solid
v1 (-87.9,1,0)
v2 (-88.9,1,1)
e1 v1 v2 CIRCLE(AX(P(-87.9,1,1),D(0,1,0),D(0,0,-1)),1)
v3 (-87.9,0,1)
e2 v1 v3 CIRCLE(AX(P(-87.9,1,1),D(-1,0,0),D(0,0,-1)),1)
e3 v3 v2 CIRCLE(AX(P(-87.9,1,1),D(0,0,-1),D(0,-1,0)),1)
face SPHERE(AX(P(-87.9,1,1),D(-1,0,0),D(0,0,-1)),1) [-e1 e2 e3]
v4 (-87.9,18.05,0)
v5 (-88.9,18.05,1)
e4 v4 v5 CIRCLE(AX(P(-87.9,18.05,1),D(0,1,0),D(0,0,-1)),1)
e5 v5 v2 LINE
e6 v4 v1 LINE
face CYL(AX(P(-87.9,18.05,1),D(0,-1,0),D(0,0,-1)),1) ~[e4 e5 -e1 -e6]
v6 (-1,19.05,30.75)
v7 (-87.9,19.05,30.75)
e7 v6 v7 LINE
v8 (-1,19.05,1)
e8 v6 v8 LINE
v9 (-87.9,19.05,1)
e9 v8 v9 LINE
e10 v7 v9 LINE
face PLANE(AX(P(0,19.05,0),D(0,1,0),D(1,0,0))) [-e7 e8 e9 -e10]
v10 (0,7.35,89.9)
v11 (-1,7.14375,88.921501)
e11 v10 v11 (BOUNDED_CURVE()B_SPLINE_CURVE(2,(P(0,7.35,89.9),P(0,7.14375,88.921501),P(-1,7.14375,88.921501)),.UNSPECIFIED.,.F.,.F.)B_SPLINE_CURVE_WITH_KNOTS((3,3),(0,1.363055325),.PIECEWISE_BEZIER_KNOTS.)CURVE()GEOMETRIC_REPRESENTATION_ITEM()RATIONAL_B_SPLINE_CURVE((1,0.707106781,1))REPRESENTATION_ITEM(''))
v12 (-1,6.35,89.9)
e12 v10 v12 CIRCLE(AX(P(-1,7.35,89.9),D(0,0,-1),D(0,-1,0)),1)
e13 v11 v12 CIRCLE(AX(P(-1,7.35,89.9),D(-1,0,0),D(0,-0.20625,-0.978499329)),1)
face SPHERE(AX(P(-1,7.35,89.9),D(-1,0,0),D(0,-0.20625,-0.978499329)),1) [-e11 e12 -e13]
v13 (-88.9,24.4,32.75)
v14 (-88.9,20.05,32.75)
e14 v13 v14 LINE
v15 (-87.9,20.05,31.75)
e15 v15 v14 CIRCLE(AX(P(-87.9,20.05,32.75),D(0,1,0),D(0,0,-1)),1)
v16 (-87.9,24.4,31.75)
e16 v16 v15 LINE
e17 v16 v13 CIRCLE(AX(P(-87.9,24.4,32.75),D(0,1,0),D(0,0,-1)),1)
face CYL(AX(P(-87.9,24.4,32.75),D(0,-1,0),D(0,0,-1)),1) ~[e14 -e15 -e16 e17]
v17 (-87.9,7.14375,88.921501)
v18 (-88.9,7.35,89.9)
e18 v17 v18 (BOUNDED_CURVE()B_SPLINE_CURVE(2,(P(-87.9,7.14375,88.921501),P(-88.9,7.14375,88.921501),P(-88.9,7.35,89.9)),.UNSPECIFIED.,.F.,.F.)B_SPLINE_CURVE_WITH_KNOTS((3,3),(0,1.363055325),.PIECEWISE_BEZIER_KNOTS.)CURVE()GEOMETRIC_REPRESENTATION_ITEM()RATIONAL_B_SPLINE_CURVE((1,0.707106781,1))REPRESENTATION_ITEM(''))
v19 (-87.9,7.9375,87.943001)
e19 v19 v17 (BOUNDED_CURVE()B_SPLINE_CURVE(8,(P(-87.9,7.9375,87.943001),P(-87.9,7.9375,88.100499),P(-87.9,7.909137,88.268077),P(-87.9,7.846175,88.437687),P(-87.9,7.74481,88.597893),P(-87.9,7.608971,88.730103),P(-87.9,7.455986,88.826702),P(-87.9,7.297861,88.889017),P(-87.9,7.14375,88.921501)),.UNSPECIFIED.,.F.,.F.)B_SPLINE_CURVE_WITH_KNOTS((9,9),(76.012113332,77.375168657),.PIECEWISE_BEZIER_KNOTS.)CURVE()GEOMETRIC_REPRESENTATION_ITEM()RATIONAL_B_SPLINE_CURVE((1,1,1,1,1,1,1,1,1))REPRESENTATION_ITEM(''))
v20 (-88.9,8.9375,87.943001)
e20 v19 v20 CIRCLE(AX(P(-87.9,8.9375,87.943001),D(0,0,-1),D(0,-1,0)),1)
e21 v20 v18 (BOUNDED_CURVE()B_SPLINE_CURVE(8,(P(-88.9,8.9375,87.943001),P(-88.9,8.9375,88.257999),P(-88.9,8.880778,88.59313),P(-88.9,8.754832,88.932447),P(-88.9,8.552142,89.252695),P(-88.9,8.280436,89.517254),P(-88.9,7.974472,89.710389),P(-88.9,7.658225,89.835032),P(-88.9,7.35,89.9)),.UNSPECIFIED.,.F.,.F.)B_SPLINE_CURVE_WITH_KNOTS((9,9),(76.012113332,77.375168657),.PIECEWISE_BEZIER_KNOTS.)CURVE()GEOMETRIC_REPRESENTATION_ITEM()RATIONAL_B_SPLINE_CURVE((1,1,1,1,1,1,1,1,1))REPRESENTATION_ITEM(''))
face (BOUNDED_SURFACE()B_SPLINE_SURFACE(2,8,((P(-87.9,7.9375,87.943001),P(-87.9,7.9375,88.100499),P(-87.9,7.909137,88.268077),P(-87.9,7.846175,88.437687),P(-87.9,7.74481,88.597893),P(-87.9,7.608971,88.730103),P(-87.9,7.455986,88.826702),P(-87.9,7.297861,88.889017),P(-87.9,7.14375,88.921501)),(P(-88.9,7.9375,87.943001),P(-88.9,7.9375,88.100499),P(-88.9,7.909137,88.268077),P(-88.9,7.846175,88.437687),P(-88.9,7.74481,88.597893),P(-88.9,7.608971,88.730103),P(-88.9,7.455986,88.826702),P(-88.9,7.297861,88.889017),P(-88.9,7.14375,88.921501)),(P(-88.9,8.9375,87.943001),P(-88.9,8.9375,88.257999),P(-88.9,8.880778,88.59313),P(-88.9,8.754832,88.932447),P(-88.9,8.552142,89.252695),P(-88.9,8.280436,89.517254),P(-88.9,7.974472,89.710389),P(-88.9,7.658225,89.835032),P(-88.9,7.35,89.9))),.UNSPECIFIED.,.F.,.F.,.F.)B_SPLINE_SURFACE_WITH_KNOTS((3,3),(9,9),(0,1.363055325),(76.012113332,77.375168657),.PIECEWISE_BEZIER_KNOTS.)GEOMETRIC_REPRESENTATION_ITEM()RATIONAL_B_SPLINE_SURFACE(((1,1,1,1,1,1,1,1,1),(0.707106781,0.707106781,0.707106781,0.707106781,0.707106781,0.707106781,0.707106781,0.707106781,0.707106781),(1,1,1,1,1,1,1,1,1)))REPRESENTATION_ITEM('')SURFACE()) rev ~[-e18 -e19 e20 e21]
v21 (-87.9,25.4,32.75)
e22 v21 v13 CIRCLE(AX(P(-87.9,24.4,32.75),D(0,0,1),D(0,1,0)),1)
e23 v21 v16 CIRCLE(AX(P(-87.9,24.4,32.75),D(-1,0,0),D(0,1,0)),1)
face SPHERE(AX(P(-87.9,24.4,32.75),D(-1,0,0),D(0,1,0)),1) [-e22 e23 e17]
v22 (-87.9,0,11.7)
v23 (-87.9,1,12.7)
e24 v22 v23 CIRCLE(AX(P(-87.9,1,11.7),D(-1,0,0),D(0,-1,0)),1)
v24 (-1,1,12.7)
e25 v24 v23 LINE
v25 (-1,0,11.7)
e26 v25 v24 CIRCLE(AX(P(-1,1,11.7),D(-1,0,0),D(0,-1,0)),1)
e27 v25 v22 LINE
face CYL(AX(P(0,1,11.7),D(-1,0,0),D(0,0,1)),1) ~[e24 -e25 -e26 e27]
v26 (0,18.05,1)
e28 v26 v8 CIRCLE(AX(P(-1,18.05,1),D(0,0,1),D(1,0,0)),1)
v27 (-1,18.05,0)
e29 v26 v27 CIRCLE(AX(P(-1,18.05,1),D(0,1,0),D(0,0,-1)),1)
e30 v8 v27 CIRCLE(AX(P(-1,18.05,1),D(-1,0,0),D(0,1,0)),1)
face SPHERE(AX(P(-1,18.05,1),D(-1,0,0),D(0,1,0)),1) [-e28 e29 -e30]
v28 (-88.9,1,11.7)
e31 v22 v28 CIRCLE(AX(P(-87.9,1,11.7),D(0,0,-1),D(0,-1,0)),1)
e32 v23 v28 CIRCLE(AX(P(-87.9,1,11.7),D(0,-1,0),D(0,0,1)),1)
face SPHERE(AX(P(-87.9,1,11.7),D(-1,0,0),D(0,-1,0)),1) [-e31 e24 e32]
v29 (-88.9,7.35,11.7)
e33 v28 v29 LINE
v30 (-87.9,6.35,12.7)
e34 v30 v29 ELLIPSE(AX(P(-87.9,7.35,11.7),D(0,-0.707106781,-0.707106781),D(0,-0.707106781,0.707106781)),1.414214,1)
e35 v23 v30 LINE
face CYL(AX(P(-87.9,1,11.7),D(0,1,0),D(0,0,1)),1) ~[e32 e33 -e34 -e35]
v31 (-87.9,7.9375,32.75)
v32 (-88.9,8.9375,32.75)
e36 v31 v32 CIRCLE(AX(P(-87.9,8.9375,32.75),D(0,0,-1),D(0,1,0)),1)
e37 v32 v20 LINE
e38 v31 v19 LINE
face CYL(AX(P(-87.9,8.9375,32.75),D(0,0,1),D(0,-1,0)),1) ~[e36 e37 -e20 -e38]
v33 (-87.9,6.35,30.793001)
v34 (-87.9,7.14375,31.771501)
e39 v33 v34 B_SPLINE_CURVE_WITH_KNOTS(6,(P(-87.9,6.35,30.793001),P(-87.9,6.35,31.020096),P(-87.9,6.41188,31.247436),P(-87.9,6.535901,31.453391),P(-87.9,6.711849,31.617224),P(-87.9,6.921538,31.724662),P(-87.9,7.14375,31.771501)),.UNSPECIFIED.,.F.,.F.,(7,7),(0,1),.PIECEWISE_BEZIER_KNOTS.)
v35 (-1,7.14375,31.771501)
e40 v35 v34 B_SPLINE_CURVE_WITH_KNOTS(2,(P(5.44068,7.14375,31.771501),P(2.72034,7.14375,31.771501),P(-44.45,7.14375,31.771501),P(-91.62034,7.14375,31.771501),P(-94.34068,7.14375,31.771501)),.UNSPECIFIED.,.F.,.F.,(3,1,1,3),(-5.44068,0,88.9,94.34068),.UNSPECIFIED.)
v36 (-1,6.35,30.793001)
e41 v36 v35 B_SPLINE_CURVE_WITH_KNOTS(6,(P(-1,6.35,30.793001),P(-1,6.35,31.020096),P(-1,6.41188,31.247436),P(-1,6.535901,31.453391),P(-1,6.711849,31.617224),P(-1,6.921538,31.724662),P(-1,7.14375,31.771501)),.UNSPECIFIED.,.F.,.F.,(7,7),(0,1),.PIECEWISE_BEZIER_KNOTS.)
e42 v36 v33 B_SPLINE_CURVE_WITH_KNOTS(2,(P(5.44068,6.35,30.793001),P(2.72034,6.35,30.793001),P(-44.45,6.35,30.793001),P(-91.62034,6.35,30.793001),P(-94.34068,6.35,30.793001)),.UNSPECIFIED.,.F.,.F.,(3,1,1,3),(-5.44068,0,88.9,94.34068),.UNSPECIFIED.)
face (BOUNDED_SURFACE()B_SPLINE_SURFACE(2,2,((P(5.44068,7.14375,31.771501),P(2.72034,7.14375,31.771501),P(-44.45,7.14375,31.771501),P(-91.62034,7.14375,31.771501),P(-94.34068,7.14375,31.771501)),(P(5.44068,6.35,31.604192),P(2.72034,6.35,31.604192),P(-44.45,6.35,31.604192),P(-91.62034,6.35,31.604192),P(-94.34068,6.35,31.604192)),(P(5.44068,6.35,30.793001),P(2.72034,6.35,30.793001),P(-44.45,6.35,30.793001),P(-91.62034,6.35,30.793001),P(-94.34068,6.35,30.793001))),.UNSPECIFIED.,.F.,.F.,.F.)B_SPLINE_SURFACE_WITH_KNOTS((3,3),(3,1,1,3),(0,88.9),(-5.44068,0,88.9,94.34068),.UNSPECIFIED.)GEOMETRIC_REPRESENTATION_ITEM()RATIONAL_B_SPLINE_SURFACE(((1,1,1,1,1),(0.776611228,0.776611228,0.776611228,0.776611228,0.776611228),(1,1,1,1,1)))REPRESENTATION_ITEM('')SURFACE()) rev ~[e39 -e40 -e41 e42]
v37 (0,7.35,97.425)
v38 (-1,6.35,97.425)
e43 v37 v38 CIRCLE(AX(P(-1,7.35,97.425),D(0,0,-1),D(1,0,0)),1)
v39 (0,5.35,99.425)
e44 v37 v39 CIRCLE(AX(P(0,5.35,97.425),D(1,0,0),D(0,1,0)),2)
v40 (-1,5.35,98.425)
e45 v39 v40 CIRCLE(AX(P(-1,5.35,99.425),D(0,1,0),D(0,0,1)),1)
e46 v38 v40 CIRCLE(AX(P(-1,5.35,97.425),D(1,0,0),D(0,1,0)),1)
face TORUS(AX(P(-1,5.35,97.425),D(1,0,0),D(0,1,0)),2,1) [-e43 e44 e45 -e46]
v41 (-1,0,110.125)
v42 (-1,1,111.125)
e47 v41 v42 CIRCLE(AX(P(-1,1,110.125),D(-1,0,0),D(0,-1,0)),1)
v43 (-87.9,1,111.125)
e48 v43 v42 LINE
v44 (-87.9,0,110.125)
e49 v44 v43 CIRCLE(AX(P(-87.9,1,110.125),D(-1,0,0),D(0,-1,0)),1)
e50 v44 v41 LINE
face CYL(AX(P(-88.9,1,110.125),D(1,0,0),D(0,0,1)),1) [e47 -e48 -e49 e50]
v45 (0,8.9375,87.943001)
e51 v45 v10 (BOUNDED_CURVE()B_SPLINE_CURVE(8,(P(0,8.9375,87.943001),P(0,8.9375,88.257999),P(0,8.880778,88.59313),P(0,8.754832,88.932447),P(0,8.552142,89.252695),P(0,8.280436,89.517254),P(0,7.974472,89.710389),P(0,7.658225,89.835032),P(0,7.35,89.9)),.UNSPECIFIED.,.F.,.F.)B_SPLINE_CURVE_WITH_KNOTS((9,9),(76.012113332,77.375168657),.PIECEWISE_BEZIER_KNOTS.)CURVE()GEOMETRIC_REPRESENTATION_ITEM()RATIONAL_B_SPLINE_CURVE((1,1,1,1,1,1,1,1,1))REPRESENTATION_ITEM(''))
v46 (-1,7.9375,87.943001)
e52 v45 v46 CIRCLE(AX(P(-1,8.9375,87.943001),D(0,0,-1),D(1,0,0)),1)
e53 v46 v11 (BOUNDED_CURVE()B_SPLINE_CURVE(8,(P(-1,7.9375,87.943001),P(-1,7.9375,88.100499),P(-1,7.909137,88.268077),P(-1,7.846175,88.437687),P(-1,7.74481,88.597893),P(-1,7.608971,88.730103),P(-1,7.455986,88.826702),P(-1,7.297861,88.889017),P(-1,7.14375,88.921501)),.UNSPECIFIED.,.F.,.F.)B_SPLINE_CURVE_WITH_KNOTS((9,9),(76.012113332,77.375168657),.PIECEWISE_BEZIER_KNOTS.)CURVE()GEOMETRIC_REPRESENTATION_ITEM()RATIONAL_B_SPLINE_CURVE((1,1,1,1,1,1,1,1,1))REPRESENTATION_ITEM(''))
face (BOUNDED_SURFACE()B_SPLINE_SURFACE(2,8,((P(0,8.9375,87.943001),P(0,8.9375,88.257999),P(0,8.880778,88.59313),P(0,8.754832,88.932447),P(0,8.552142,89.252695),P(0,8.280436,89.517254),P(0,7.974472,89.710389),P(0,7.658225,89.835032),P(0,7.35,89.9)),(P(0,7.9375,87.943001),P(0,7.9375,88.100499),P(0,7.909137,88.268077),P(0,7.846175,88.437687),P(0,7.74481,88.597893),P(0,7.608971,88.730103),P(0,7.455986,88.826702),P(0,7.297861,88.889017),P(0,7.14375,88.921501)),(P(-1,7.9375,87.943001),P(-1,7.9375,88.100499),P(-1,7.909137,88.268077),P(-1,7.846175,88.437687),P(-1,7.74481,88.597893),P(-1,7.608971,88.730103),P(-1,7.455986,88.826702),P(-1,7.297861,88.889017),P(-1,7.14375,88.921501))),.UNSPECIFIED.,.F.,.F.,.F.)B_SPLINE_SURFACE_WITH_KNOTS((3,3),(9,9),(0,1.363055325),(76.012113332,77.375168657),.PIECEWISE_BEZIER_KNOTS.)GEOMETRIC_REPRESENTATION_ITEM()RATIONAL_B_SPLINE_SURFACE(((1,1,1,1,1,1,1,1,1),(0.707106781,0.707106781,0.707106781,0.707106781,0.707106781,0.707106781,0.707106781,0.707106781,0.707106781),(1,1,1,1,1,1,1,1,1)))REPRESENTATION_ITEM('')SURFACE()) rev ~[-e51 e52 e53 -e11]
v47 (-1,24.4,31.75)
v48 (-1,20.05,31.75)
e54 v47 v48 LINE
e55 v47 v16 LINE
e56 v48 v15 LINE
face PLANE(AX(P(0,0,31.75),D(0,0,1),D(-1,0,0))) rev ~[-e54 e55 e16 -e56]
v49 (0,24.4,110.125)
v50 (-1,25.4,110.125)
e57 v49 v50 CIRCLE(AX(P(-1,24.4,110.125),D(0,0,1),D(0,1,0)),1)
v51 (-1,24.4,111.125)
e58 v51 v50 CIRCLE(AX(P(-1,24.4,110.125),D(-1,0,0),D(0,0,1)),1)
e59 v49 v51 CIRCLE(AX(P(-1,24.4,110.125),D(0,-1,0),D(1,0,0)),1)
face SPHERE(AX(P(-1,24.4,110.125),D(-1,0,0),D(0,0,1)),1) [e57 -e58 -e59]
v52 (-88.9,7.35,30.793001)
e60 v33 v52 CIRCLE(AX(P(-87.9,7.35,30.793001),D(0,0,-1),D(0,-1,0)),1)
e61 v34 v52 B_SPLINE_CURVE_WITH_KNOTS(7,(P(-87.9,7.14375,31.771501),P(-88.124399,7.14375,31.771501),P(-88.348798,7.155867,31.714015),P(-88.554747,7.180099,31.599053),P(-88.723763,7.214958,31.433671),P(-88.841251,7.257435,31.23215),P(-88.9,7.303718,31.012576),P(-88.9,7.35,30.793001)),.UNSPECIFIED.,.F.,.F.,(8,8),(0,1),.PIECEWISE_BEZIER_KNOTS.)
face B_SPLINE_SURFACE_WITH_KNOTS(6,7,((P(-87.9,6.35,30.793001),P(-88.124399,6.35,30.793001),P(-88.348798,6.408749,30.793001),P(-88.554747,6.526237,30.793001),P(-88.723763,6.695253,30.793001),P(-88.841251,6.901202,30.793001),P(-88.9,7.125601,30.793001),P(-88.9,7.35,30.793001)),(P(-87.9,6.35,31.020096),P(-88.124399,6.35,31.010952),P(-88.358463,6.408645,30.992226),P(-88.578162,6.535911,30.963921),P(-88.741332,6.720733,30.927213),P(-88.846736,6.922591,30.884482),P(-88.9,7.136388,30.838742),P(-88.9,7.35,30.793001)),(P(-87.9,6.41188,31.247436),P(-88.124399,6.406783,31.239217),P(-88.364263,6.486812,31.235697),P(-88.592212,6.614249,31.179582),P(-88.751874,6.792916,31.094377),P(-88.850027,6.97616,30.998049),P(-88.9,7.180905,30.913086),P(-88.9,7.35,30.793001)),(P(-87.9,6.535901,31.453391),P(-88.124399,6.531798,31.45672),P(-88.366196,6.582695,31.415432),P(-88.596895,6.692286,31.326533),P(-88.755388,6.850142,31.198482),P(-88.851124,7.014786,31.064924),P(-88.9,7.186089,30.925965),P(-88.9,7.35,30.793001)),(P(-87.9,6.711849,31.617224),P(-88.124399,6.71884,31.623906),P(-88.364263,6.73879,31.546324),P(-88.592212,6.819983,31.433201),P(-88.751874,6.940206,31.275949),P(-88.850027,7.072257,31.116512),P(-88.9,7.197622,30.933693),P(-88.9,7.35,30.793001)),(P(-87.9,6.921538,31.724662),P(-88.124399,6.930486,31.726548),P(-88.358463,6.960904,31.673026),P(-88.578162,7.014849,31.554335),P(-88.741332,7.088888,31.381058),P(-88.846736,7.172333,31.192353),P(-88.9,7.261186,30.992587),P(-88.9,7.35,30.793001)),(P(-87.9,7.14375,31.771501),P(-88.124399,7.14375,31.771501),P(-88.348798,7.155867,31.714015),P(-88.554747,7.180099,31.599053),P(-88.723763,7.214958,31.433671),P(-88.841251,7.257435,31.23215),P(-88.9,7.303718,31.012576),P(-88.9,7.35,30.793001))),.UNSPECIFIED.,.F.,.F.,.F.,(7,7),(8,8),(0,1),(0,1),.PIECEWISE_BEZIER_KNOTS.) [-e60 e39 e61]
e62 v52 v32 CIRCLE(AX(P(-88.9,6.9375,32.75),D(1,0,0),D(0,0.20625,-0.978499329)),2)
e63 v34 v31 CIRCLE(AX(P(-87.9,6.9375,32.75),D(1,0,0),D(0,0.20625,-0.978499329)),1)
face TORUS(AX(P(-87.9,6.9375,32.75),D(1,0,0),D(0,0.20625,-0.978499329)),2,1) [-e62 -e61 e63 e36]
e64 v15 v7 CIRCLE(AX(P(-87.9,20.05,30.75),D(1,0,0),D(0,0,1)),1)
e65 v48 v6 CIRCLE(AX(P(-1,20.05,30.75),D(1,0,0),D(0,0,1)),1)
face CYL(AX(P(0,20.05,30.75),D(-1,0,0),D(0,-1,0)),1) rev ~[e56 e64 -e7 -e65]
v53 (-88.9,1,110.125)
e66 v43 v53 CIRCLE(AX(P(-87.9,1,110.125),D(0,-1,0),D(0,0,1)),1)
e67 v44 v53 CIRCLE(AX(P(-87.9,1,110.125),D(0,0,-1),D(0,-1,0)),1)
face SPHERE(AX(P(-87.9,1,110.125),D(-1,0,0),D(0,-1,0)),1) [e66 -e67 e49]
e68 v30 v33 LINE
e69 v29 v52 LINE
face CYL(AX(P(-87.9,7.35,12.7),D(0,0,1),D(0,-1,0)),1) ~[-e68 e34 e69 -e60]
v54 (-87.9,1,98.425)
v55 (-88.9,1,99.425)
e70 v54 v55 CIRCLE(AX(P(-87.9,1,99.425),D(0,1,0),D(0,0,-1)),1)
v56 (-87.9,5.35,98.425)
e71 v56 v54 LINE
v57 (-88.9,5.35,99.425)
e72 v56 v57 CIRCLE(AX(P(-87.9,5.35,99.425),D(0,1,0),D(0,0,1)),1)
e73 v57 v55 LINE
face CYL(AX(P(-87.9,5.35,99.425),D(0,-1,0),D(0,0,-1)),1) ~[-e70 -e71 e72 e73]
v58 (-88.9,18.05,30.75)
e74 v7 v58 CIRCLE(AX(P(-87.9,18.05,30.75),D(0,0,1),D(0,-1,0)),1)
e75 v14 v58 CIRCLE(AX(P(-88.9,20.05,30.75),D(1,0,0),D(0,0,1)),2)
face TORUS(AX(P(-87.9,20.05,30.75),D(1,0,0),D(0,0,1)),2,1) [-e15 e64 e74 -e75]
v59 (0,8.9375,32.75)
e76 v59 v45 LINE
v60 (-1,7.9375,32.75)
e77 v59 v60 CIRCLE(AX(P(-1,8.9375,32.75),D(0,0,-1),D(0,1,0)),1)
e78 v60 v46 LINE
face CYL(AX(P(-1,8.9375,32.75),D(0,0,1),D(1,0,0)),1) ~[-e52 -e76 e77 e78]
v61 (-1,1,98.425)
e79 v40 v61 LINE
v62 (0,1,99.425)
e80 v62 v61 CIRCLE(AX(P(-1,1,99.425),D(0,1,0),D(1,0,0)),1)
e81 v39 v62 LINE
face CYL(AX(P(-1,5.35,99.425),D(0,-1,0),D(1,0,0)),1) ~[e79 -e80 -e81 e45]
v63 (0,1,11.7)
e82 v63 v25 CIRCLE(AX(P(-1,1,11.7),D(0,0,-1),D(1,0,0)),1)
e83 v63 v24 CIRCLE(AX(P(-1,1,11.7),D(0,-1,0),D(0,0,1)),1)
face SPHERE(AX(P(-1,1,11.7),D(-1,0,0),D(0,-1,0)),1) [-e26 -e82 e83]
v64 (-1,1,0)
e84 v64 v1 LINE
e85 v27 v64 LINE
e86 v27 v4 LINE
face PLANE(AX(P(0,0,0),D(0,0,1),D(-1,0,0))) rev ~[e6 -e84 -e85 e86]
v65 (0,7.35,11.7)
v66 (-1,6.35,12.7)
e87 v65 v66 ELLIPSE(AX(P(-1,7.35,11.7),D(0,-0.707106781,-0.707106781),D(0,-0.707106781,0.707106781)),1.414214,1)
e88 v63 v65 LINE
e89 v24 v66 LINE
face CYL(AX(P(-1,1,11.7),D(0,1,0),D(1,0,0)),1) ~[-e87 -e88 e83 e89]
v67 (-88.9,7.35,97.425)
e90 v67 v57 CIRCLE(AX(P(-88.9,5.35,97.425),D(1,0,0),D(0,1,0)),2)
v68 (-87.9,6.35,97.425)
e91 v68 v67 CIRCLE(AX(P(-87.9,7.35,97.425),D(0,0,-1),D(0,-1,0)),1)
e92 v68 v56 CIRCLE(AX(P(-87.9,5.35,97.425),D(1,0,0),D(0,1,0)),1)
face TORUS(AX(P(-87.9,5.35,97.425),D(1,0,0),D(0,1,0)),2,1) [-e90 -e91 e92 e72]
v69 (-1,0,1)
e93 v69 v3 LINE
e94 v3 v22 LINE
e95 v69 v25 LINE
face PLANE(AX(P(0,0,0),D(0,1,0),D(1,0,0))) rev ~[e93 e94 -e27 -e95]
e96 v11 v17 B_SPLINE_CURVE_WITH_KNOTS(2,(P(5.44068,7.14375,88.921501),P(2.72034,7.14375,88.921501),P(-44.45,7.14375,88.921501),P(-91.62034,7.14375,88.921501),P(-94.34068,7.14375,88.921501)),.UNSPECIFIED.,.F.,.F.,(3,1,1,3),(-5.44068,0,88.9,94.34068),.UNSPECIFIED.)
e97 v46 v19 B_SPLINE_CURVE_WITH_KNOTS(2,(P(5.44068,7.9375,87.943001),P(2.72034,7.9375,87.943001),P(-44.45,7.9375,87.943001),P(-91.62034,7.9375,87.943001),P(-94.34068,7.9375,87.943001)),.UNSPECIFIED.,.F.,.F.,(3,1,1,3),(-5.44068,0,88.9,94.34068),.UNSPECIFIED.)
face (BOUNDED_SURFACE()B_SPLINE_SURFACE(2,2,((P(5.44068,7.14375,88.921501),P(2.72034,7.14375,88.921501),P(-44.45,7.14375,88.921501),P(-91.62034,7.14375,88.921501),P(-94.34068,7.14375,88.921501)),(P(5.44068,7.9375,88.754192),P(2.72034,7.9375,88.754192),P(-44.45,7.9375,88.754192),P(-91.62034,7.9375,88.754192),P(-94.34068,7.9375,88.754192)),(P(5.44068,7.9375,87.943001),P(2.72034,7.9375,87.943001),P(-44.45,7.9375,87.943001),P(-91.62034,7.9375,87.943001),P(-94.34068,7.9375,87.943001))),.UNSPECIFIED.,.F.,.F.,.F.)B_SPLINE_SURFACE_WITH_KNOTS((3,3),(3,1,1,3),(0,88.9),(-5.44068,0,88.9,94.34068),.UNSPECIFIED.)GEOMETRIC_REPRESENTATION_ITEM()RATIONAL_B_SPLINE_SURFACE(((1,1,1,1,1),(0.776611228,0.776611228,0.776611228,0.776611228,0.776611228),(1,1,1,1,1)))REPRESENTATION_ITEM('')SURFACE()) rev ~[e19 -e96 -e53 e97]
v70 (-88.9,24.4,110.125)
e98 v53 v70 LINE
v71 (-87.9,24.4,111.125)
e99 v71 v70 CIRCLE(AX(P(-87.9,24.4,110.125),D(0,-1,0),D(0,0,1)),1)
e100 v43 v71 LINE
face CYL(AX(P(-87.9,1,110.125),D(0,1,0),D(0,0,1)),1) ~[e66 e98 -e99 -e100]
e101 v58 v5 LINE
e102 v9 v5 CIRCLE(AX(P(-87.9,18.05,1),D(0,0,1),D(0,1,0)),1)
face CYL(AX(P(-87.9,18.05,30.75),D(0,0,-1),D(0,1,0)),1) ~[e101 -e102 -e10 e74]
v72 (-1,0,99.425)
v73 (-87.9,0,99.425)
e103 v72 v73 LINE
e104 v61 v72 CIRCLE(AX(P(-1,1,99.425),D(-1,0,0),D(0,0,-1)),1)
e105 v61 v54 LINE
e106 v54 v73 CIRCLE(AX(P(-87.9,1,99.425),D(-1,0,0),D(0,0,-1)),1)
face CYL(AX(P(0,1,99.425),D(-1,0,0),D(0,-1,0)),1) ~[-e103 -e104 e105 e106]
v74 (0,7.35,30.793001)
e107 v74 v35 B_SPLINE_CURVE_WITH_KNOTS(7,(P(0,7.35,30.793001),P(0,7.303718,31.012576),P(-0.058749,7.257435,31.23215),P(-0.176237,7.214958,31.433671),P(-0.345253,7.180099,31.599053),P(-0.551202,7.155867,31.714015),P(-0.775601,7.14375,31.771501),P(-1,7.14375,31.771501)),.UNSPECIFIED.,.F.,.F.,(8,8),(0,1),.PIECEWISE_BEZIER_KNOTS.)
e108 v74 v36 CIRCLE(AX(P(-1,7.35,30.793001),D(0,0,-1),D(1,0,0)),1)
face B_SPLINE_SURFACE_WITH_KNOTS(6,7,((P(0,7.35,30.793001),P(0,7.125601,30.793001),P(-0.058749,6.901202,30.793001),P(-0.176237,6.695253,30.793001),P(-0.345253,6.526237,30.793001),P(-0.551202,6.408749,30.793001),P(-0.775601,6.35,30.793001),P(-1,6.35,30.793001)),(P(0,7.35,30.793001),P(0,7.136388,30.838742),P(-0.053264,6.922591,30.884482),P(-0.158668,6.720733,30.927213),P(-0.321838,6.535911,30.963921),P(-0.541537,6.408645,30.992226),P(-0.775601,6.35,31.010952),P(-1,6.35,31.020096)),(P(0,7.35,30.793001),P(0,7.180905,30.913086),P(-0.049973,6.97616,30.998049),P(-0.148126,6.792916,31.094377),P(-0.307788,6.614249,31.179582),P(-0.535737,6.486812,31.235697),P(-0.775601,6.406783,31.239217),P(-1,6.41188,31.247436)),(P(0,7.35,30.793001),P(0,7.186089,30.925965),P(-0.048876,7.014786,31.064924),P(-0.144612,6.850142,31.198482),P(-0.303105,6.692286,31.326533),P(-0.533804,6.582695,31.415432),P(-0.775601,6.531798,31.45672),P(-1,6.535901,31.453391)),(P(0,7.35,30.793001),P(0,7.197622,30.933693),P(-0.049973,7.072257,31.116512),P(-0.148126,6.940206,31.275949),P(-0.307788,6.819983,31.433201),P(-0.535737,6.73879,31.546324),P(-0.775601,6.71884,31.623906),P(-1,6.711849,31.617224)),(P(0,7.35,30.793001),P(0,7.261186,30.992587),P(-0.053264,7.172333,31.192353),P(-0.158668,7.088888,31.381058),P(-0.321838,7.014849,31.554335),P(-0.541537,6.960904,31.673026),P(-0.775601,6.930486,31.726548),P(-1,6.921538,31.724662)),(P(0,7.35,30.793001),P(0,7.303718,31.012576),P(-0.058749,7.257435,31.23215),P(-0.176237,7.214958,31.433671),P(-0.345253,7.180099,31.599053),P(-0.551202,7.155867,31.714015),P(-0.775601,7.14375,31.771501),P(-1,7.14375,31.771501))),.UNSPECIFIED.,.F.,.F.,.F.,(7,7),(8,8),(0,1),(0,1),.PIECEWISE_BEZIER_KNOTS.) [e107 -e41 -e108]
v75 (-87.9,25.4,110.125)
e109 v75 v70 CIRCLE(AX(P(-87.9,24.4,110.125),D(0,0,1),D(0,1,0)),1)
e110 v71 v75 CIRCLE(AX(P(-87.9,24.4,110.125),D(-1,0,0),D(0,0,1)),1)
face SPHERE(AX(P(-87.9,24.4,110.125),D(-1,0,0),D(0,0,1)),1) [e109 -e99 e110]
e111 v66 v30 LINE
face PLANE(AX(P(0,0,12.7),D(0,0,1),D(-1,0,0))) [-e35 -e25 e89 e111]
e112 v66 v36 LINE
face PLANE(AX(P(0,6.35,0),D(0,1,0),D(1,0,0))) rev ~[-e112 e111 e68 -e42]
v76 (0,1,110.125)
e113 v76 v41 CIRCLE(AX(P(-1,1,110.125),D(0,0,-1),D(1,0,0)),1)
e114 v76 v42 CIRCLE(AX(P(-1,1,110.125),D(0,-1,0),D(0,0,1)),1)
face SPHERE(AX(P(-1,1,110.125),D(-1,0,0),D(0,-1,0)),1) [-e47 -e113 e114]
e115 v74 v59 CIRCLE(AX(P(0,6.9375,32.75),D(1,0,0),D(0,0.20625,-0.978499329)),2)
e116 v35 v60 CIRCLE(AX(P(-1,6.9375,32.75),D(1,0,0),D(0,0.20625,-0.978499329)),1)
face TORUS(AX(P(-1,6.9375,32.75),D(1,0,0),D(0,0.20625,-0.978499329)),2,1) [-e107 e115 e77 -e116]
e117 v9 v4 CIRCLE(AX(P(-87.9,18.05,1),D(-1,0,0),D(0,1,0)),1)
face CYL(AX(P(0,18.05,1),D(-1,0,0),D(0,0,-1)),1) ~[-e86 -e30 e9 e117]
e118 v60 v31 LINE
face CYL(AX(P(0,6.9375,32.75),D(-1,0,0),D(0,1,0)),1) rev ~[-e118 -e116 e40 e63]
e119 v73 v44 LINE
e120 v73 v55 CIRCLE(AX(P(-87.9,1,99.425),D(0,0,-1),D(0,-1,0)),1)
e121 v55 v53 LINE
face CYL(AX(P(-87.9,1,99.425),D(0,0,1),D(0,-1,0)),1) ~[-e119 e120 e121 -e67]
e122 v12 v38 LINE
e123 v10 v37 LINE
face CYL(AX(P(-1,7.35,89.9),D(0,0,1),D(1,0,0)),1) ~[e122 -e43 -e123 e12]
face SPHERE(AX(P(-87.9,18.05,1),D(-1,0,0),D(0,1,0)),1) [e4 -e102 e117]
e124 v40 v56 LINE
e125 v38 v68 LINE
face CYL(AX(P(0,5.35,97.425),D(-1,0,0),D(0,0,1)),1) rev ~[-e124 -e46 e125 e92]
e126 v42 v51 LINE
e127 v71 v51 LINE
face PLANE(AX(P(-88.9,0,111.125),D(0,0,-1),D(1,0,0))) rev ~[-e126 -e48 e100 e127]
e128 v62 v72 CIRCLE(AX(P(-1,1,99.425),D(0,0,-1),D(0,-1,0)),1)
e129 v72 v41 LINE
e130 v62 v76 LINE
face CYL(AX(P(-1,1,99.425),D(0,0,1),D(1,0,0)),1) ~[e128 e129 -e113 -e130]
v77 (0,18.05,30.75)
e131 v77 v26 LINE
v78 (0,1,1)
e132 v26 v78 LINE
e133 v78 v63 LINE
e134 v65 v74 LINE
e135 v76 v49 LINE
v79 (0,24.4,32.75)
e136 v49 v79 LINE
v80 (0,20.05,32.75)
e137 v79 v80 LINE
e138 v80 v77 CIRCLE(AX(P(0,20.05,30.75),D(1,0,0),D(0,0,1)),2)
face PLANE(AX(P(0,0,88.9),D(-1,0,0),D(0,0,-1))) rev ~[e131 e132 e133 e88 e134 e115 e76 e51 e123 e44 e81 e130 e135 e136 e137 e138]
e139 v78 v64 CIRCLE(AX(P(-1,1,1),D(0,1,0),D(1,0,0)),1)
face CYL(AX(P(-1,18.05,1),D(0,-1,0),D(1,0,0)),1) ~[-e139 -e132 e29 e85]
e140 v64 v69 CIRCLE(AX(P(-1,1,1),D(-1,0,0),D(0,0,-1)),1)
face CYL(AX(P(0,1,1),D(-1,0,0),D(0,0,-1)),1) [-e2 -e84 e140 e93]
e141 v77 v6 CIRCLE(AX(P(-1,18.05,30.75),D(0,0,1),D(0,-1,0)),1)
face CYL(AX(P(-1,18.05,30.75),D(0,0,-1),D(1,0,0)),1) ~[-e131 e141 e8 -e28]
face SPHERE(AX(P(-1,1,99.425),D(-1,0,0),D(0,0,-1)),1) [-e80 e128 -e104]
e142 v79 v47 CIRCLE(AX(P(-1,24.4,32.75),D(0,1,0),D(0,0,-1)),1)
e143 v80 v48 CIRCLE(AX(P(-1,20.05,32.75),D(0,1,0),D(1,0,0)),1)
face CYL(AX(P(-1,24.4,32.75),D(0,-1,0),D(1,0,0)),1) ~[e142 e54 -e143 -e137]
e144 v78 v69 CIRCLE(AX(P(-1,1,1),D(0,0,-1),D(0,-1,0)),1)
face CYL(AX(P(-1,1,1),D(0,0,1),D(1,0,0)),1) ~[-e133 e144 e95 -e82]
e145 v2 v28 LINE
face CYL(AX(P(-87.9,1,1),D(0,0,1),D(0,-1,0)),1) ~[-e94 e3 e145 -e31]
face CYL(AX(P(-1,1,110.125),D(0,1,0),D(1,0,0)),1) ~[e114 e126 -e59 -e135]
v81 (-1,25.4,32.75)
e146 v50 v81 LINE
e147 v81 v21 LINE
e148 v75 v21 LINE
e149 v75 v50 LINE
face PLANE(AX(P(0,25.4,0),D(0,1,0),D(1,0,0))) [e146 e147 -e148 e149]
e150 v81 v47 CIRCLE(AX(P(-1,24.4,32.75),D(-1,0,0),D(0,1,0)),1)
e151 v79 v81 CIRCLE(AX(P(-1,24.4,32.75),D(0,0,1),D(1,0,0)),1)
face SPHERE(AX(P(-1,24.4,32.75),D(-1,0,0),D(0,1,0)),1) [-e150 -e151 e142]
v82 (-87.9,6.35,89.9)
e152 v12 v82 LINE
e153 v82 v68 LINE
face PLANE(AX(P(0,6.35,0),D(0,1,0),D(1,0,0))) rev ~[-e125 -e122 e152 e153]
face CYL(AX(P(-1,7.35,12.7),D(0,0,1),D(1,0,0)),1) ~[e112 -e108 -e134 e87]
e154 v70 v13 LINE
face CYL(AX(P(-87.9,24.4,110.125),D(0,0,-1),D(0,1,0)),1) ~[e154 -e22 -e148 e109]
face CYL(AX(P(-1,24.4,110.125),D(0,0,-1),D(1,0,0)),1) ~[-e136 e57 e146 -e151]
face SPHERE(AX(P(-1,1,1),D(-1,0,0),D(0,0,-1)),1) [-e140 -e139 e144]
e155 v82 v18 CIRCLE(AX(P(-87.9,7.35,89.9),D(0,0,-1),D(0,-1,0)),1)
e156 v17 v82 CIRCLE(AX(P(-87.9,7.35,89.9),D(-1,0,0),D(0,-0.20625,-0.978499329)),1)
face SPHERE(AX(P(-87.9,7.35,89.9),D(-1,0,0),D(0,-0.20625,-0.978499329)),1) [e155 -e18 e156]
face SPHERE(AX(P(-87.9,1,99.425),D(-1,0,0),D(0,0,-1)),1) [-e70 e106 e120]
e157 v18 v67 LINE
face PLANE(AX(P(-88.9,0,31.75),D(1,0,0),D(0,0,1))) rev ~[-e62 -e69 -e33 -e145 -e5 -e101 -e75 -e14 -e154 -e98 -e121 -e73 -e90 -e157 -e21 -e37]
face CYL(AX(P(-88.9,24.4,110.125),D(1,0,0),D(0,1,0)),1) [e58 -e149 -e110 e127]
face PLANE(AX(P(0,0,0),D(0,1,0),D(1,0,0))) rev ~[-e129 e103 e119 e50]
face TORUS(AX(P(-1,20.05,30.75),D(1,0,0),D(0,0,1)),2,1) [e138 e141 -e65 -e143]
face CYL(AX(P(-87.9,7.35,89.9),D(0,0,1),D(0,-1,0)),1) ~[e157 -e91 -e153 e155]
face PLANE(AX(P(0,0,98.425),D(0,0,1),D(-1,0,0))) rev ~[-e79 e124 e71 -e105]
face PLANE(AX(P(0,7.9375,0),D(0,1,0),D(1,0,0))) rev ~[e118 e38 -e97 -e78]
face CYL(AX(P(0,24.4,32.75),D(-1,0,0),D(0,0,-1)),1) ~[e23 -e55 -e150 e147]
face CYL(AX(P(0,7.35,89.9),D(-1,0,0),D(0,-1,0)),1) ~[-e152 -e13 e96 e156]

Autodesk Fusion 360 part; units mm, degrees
sketch "Sketch1" plane through (0, 0, 0) normal (0, 1, 0) x (1, 0, 0)
  line L0 (0, 0) -> (-88.9, 0)
  line L1 (-88.9, 0) -> (-88.9, -111.125)
  line L2 (-88.9, -111.125) -> (0, -111.125)
  line L3 (0, -111.125) -> (0, 0)
  line L4 (0, -12.7) -> (-88.9, -12.7)
  line L5 (0, -31.75) -> (-88.9, -31.75)
  line L6 (0, -88.9) -> (-88.9, -88.9)
  line L7 (0, -98.425) -> (-88.9, -98.425)
  dimension "d1" = 88.9
  dimension "d2" = 111.125
  dimension "d3" = 12.7
  dimension "d5" = 19.05
  dimension "d6" = 12.7
  dimension "d7" = 9.525
extrude "Extrude1" add sketch "Sketch1" along normal blind 25.4 contours L1 L3 L5 L6 | L1 L3 L6 L7 | L1 L2 L3 L7
extrude "Extrude2" add sketch "Sketch1" along normal blind 19.05 contours L0 L1 L3 L4 | L1 L3 L4 L5
extrude "Extrude3" cut sketch "Sketch1" along normal blind 6.35 contours L1 L3 L4 L5 | L1 L3 L6 L7
extrude "Extrude4" cut sketch "Sketch1" along normal blind 7.9375 contours L1 L3 L5 L6
fillet "Fillet1" radius 1 13 edges at (-44.45, 6.35, 98.425) (-44.45, 6.35, 88.9) (-44.45, 7.9375, 88.9) (-44.45, 7.9375, 31.75) (-44.45, 6.35, 31.75) (-44.45, 0, 12.7) (-44.45, 0, 98.425) (-44.45, 0, 0) (-44.45, 19.05, 0) (-44.45, 19.05, 31.75) (-44.45, 25.4, 31.75) (-44.45, 25.4, 111.125) (-44.45, 0, 111.125)
fillet "Fillet2" radius 1 2 faces at (0, 19.5792, 76.9393) (-88.9, 19.5792, 76.9393)
equation "d2 = 4 3/8\""
equation "d7 = 3 in / 8"
equation "d14 = 0.25 in + 1\" / 16"
